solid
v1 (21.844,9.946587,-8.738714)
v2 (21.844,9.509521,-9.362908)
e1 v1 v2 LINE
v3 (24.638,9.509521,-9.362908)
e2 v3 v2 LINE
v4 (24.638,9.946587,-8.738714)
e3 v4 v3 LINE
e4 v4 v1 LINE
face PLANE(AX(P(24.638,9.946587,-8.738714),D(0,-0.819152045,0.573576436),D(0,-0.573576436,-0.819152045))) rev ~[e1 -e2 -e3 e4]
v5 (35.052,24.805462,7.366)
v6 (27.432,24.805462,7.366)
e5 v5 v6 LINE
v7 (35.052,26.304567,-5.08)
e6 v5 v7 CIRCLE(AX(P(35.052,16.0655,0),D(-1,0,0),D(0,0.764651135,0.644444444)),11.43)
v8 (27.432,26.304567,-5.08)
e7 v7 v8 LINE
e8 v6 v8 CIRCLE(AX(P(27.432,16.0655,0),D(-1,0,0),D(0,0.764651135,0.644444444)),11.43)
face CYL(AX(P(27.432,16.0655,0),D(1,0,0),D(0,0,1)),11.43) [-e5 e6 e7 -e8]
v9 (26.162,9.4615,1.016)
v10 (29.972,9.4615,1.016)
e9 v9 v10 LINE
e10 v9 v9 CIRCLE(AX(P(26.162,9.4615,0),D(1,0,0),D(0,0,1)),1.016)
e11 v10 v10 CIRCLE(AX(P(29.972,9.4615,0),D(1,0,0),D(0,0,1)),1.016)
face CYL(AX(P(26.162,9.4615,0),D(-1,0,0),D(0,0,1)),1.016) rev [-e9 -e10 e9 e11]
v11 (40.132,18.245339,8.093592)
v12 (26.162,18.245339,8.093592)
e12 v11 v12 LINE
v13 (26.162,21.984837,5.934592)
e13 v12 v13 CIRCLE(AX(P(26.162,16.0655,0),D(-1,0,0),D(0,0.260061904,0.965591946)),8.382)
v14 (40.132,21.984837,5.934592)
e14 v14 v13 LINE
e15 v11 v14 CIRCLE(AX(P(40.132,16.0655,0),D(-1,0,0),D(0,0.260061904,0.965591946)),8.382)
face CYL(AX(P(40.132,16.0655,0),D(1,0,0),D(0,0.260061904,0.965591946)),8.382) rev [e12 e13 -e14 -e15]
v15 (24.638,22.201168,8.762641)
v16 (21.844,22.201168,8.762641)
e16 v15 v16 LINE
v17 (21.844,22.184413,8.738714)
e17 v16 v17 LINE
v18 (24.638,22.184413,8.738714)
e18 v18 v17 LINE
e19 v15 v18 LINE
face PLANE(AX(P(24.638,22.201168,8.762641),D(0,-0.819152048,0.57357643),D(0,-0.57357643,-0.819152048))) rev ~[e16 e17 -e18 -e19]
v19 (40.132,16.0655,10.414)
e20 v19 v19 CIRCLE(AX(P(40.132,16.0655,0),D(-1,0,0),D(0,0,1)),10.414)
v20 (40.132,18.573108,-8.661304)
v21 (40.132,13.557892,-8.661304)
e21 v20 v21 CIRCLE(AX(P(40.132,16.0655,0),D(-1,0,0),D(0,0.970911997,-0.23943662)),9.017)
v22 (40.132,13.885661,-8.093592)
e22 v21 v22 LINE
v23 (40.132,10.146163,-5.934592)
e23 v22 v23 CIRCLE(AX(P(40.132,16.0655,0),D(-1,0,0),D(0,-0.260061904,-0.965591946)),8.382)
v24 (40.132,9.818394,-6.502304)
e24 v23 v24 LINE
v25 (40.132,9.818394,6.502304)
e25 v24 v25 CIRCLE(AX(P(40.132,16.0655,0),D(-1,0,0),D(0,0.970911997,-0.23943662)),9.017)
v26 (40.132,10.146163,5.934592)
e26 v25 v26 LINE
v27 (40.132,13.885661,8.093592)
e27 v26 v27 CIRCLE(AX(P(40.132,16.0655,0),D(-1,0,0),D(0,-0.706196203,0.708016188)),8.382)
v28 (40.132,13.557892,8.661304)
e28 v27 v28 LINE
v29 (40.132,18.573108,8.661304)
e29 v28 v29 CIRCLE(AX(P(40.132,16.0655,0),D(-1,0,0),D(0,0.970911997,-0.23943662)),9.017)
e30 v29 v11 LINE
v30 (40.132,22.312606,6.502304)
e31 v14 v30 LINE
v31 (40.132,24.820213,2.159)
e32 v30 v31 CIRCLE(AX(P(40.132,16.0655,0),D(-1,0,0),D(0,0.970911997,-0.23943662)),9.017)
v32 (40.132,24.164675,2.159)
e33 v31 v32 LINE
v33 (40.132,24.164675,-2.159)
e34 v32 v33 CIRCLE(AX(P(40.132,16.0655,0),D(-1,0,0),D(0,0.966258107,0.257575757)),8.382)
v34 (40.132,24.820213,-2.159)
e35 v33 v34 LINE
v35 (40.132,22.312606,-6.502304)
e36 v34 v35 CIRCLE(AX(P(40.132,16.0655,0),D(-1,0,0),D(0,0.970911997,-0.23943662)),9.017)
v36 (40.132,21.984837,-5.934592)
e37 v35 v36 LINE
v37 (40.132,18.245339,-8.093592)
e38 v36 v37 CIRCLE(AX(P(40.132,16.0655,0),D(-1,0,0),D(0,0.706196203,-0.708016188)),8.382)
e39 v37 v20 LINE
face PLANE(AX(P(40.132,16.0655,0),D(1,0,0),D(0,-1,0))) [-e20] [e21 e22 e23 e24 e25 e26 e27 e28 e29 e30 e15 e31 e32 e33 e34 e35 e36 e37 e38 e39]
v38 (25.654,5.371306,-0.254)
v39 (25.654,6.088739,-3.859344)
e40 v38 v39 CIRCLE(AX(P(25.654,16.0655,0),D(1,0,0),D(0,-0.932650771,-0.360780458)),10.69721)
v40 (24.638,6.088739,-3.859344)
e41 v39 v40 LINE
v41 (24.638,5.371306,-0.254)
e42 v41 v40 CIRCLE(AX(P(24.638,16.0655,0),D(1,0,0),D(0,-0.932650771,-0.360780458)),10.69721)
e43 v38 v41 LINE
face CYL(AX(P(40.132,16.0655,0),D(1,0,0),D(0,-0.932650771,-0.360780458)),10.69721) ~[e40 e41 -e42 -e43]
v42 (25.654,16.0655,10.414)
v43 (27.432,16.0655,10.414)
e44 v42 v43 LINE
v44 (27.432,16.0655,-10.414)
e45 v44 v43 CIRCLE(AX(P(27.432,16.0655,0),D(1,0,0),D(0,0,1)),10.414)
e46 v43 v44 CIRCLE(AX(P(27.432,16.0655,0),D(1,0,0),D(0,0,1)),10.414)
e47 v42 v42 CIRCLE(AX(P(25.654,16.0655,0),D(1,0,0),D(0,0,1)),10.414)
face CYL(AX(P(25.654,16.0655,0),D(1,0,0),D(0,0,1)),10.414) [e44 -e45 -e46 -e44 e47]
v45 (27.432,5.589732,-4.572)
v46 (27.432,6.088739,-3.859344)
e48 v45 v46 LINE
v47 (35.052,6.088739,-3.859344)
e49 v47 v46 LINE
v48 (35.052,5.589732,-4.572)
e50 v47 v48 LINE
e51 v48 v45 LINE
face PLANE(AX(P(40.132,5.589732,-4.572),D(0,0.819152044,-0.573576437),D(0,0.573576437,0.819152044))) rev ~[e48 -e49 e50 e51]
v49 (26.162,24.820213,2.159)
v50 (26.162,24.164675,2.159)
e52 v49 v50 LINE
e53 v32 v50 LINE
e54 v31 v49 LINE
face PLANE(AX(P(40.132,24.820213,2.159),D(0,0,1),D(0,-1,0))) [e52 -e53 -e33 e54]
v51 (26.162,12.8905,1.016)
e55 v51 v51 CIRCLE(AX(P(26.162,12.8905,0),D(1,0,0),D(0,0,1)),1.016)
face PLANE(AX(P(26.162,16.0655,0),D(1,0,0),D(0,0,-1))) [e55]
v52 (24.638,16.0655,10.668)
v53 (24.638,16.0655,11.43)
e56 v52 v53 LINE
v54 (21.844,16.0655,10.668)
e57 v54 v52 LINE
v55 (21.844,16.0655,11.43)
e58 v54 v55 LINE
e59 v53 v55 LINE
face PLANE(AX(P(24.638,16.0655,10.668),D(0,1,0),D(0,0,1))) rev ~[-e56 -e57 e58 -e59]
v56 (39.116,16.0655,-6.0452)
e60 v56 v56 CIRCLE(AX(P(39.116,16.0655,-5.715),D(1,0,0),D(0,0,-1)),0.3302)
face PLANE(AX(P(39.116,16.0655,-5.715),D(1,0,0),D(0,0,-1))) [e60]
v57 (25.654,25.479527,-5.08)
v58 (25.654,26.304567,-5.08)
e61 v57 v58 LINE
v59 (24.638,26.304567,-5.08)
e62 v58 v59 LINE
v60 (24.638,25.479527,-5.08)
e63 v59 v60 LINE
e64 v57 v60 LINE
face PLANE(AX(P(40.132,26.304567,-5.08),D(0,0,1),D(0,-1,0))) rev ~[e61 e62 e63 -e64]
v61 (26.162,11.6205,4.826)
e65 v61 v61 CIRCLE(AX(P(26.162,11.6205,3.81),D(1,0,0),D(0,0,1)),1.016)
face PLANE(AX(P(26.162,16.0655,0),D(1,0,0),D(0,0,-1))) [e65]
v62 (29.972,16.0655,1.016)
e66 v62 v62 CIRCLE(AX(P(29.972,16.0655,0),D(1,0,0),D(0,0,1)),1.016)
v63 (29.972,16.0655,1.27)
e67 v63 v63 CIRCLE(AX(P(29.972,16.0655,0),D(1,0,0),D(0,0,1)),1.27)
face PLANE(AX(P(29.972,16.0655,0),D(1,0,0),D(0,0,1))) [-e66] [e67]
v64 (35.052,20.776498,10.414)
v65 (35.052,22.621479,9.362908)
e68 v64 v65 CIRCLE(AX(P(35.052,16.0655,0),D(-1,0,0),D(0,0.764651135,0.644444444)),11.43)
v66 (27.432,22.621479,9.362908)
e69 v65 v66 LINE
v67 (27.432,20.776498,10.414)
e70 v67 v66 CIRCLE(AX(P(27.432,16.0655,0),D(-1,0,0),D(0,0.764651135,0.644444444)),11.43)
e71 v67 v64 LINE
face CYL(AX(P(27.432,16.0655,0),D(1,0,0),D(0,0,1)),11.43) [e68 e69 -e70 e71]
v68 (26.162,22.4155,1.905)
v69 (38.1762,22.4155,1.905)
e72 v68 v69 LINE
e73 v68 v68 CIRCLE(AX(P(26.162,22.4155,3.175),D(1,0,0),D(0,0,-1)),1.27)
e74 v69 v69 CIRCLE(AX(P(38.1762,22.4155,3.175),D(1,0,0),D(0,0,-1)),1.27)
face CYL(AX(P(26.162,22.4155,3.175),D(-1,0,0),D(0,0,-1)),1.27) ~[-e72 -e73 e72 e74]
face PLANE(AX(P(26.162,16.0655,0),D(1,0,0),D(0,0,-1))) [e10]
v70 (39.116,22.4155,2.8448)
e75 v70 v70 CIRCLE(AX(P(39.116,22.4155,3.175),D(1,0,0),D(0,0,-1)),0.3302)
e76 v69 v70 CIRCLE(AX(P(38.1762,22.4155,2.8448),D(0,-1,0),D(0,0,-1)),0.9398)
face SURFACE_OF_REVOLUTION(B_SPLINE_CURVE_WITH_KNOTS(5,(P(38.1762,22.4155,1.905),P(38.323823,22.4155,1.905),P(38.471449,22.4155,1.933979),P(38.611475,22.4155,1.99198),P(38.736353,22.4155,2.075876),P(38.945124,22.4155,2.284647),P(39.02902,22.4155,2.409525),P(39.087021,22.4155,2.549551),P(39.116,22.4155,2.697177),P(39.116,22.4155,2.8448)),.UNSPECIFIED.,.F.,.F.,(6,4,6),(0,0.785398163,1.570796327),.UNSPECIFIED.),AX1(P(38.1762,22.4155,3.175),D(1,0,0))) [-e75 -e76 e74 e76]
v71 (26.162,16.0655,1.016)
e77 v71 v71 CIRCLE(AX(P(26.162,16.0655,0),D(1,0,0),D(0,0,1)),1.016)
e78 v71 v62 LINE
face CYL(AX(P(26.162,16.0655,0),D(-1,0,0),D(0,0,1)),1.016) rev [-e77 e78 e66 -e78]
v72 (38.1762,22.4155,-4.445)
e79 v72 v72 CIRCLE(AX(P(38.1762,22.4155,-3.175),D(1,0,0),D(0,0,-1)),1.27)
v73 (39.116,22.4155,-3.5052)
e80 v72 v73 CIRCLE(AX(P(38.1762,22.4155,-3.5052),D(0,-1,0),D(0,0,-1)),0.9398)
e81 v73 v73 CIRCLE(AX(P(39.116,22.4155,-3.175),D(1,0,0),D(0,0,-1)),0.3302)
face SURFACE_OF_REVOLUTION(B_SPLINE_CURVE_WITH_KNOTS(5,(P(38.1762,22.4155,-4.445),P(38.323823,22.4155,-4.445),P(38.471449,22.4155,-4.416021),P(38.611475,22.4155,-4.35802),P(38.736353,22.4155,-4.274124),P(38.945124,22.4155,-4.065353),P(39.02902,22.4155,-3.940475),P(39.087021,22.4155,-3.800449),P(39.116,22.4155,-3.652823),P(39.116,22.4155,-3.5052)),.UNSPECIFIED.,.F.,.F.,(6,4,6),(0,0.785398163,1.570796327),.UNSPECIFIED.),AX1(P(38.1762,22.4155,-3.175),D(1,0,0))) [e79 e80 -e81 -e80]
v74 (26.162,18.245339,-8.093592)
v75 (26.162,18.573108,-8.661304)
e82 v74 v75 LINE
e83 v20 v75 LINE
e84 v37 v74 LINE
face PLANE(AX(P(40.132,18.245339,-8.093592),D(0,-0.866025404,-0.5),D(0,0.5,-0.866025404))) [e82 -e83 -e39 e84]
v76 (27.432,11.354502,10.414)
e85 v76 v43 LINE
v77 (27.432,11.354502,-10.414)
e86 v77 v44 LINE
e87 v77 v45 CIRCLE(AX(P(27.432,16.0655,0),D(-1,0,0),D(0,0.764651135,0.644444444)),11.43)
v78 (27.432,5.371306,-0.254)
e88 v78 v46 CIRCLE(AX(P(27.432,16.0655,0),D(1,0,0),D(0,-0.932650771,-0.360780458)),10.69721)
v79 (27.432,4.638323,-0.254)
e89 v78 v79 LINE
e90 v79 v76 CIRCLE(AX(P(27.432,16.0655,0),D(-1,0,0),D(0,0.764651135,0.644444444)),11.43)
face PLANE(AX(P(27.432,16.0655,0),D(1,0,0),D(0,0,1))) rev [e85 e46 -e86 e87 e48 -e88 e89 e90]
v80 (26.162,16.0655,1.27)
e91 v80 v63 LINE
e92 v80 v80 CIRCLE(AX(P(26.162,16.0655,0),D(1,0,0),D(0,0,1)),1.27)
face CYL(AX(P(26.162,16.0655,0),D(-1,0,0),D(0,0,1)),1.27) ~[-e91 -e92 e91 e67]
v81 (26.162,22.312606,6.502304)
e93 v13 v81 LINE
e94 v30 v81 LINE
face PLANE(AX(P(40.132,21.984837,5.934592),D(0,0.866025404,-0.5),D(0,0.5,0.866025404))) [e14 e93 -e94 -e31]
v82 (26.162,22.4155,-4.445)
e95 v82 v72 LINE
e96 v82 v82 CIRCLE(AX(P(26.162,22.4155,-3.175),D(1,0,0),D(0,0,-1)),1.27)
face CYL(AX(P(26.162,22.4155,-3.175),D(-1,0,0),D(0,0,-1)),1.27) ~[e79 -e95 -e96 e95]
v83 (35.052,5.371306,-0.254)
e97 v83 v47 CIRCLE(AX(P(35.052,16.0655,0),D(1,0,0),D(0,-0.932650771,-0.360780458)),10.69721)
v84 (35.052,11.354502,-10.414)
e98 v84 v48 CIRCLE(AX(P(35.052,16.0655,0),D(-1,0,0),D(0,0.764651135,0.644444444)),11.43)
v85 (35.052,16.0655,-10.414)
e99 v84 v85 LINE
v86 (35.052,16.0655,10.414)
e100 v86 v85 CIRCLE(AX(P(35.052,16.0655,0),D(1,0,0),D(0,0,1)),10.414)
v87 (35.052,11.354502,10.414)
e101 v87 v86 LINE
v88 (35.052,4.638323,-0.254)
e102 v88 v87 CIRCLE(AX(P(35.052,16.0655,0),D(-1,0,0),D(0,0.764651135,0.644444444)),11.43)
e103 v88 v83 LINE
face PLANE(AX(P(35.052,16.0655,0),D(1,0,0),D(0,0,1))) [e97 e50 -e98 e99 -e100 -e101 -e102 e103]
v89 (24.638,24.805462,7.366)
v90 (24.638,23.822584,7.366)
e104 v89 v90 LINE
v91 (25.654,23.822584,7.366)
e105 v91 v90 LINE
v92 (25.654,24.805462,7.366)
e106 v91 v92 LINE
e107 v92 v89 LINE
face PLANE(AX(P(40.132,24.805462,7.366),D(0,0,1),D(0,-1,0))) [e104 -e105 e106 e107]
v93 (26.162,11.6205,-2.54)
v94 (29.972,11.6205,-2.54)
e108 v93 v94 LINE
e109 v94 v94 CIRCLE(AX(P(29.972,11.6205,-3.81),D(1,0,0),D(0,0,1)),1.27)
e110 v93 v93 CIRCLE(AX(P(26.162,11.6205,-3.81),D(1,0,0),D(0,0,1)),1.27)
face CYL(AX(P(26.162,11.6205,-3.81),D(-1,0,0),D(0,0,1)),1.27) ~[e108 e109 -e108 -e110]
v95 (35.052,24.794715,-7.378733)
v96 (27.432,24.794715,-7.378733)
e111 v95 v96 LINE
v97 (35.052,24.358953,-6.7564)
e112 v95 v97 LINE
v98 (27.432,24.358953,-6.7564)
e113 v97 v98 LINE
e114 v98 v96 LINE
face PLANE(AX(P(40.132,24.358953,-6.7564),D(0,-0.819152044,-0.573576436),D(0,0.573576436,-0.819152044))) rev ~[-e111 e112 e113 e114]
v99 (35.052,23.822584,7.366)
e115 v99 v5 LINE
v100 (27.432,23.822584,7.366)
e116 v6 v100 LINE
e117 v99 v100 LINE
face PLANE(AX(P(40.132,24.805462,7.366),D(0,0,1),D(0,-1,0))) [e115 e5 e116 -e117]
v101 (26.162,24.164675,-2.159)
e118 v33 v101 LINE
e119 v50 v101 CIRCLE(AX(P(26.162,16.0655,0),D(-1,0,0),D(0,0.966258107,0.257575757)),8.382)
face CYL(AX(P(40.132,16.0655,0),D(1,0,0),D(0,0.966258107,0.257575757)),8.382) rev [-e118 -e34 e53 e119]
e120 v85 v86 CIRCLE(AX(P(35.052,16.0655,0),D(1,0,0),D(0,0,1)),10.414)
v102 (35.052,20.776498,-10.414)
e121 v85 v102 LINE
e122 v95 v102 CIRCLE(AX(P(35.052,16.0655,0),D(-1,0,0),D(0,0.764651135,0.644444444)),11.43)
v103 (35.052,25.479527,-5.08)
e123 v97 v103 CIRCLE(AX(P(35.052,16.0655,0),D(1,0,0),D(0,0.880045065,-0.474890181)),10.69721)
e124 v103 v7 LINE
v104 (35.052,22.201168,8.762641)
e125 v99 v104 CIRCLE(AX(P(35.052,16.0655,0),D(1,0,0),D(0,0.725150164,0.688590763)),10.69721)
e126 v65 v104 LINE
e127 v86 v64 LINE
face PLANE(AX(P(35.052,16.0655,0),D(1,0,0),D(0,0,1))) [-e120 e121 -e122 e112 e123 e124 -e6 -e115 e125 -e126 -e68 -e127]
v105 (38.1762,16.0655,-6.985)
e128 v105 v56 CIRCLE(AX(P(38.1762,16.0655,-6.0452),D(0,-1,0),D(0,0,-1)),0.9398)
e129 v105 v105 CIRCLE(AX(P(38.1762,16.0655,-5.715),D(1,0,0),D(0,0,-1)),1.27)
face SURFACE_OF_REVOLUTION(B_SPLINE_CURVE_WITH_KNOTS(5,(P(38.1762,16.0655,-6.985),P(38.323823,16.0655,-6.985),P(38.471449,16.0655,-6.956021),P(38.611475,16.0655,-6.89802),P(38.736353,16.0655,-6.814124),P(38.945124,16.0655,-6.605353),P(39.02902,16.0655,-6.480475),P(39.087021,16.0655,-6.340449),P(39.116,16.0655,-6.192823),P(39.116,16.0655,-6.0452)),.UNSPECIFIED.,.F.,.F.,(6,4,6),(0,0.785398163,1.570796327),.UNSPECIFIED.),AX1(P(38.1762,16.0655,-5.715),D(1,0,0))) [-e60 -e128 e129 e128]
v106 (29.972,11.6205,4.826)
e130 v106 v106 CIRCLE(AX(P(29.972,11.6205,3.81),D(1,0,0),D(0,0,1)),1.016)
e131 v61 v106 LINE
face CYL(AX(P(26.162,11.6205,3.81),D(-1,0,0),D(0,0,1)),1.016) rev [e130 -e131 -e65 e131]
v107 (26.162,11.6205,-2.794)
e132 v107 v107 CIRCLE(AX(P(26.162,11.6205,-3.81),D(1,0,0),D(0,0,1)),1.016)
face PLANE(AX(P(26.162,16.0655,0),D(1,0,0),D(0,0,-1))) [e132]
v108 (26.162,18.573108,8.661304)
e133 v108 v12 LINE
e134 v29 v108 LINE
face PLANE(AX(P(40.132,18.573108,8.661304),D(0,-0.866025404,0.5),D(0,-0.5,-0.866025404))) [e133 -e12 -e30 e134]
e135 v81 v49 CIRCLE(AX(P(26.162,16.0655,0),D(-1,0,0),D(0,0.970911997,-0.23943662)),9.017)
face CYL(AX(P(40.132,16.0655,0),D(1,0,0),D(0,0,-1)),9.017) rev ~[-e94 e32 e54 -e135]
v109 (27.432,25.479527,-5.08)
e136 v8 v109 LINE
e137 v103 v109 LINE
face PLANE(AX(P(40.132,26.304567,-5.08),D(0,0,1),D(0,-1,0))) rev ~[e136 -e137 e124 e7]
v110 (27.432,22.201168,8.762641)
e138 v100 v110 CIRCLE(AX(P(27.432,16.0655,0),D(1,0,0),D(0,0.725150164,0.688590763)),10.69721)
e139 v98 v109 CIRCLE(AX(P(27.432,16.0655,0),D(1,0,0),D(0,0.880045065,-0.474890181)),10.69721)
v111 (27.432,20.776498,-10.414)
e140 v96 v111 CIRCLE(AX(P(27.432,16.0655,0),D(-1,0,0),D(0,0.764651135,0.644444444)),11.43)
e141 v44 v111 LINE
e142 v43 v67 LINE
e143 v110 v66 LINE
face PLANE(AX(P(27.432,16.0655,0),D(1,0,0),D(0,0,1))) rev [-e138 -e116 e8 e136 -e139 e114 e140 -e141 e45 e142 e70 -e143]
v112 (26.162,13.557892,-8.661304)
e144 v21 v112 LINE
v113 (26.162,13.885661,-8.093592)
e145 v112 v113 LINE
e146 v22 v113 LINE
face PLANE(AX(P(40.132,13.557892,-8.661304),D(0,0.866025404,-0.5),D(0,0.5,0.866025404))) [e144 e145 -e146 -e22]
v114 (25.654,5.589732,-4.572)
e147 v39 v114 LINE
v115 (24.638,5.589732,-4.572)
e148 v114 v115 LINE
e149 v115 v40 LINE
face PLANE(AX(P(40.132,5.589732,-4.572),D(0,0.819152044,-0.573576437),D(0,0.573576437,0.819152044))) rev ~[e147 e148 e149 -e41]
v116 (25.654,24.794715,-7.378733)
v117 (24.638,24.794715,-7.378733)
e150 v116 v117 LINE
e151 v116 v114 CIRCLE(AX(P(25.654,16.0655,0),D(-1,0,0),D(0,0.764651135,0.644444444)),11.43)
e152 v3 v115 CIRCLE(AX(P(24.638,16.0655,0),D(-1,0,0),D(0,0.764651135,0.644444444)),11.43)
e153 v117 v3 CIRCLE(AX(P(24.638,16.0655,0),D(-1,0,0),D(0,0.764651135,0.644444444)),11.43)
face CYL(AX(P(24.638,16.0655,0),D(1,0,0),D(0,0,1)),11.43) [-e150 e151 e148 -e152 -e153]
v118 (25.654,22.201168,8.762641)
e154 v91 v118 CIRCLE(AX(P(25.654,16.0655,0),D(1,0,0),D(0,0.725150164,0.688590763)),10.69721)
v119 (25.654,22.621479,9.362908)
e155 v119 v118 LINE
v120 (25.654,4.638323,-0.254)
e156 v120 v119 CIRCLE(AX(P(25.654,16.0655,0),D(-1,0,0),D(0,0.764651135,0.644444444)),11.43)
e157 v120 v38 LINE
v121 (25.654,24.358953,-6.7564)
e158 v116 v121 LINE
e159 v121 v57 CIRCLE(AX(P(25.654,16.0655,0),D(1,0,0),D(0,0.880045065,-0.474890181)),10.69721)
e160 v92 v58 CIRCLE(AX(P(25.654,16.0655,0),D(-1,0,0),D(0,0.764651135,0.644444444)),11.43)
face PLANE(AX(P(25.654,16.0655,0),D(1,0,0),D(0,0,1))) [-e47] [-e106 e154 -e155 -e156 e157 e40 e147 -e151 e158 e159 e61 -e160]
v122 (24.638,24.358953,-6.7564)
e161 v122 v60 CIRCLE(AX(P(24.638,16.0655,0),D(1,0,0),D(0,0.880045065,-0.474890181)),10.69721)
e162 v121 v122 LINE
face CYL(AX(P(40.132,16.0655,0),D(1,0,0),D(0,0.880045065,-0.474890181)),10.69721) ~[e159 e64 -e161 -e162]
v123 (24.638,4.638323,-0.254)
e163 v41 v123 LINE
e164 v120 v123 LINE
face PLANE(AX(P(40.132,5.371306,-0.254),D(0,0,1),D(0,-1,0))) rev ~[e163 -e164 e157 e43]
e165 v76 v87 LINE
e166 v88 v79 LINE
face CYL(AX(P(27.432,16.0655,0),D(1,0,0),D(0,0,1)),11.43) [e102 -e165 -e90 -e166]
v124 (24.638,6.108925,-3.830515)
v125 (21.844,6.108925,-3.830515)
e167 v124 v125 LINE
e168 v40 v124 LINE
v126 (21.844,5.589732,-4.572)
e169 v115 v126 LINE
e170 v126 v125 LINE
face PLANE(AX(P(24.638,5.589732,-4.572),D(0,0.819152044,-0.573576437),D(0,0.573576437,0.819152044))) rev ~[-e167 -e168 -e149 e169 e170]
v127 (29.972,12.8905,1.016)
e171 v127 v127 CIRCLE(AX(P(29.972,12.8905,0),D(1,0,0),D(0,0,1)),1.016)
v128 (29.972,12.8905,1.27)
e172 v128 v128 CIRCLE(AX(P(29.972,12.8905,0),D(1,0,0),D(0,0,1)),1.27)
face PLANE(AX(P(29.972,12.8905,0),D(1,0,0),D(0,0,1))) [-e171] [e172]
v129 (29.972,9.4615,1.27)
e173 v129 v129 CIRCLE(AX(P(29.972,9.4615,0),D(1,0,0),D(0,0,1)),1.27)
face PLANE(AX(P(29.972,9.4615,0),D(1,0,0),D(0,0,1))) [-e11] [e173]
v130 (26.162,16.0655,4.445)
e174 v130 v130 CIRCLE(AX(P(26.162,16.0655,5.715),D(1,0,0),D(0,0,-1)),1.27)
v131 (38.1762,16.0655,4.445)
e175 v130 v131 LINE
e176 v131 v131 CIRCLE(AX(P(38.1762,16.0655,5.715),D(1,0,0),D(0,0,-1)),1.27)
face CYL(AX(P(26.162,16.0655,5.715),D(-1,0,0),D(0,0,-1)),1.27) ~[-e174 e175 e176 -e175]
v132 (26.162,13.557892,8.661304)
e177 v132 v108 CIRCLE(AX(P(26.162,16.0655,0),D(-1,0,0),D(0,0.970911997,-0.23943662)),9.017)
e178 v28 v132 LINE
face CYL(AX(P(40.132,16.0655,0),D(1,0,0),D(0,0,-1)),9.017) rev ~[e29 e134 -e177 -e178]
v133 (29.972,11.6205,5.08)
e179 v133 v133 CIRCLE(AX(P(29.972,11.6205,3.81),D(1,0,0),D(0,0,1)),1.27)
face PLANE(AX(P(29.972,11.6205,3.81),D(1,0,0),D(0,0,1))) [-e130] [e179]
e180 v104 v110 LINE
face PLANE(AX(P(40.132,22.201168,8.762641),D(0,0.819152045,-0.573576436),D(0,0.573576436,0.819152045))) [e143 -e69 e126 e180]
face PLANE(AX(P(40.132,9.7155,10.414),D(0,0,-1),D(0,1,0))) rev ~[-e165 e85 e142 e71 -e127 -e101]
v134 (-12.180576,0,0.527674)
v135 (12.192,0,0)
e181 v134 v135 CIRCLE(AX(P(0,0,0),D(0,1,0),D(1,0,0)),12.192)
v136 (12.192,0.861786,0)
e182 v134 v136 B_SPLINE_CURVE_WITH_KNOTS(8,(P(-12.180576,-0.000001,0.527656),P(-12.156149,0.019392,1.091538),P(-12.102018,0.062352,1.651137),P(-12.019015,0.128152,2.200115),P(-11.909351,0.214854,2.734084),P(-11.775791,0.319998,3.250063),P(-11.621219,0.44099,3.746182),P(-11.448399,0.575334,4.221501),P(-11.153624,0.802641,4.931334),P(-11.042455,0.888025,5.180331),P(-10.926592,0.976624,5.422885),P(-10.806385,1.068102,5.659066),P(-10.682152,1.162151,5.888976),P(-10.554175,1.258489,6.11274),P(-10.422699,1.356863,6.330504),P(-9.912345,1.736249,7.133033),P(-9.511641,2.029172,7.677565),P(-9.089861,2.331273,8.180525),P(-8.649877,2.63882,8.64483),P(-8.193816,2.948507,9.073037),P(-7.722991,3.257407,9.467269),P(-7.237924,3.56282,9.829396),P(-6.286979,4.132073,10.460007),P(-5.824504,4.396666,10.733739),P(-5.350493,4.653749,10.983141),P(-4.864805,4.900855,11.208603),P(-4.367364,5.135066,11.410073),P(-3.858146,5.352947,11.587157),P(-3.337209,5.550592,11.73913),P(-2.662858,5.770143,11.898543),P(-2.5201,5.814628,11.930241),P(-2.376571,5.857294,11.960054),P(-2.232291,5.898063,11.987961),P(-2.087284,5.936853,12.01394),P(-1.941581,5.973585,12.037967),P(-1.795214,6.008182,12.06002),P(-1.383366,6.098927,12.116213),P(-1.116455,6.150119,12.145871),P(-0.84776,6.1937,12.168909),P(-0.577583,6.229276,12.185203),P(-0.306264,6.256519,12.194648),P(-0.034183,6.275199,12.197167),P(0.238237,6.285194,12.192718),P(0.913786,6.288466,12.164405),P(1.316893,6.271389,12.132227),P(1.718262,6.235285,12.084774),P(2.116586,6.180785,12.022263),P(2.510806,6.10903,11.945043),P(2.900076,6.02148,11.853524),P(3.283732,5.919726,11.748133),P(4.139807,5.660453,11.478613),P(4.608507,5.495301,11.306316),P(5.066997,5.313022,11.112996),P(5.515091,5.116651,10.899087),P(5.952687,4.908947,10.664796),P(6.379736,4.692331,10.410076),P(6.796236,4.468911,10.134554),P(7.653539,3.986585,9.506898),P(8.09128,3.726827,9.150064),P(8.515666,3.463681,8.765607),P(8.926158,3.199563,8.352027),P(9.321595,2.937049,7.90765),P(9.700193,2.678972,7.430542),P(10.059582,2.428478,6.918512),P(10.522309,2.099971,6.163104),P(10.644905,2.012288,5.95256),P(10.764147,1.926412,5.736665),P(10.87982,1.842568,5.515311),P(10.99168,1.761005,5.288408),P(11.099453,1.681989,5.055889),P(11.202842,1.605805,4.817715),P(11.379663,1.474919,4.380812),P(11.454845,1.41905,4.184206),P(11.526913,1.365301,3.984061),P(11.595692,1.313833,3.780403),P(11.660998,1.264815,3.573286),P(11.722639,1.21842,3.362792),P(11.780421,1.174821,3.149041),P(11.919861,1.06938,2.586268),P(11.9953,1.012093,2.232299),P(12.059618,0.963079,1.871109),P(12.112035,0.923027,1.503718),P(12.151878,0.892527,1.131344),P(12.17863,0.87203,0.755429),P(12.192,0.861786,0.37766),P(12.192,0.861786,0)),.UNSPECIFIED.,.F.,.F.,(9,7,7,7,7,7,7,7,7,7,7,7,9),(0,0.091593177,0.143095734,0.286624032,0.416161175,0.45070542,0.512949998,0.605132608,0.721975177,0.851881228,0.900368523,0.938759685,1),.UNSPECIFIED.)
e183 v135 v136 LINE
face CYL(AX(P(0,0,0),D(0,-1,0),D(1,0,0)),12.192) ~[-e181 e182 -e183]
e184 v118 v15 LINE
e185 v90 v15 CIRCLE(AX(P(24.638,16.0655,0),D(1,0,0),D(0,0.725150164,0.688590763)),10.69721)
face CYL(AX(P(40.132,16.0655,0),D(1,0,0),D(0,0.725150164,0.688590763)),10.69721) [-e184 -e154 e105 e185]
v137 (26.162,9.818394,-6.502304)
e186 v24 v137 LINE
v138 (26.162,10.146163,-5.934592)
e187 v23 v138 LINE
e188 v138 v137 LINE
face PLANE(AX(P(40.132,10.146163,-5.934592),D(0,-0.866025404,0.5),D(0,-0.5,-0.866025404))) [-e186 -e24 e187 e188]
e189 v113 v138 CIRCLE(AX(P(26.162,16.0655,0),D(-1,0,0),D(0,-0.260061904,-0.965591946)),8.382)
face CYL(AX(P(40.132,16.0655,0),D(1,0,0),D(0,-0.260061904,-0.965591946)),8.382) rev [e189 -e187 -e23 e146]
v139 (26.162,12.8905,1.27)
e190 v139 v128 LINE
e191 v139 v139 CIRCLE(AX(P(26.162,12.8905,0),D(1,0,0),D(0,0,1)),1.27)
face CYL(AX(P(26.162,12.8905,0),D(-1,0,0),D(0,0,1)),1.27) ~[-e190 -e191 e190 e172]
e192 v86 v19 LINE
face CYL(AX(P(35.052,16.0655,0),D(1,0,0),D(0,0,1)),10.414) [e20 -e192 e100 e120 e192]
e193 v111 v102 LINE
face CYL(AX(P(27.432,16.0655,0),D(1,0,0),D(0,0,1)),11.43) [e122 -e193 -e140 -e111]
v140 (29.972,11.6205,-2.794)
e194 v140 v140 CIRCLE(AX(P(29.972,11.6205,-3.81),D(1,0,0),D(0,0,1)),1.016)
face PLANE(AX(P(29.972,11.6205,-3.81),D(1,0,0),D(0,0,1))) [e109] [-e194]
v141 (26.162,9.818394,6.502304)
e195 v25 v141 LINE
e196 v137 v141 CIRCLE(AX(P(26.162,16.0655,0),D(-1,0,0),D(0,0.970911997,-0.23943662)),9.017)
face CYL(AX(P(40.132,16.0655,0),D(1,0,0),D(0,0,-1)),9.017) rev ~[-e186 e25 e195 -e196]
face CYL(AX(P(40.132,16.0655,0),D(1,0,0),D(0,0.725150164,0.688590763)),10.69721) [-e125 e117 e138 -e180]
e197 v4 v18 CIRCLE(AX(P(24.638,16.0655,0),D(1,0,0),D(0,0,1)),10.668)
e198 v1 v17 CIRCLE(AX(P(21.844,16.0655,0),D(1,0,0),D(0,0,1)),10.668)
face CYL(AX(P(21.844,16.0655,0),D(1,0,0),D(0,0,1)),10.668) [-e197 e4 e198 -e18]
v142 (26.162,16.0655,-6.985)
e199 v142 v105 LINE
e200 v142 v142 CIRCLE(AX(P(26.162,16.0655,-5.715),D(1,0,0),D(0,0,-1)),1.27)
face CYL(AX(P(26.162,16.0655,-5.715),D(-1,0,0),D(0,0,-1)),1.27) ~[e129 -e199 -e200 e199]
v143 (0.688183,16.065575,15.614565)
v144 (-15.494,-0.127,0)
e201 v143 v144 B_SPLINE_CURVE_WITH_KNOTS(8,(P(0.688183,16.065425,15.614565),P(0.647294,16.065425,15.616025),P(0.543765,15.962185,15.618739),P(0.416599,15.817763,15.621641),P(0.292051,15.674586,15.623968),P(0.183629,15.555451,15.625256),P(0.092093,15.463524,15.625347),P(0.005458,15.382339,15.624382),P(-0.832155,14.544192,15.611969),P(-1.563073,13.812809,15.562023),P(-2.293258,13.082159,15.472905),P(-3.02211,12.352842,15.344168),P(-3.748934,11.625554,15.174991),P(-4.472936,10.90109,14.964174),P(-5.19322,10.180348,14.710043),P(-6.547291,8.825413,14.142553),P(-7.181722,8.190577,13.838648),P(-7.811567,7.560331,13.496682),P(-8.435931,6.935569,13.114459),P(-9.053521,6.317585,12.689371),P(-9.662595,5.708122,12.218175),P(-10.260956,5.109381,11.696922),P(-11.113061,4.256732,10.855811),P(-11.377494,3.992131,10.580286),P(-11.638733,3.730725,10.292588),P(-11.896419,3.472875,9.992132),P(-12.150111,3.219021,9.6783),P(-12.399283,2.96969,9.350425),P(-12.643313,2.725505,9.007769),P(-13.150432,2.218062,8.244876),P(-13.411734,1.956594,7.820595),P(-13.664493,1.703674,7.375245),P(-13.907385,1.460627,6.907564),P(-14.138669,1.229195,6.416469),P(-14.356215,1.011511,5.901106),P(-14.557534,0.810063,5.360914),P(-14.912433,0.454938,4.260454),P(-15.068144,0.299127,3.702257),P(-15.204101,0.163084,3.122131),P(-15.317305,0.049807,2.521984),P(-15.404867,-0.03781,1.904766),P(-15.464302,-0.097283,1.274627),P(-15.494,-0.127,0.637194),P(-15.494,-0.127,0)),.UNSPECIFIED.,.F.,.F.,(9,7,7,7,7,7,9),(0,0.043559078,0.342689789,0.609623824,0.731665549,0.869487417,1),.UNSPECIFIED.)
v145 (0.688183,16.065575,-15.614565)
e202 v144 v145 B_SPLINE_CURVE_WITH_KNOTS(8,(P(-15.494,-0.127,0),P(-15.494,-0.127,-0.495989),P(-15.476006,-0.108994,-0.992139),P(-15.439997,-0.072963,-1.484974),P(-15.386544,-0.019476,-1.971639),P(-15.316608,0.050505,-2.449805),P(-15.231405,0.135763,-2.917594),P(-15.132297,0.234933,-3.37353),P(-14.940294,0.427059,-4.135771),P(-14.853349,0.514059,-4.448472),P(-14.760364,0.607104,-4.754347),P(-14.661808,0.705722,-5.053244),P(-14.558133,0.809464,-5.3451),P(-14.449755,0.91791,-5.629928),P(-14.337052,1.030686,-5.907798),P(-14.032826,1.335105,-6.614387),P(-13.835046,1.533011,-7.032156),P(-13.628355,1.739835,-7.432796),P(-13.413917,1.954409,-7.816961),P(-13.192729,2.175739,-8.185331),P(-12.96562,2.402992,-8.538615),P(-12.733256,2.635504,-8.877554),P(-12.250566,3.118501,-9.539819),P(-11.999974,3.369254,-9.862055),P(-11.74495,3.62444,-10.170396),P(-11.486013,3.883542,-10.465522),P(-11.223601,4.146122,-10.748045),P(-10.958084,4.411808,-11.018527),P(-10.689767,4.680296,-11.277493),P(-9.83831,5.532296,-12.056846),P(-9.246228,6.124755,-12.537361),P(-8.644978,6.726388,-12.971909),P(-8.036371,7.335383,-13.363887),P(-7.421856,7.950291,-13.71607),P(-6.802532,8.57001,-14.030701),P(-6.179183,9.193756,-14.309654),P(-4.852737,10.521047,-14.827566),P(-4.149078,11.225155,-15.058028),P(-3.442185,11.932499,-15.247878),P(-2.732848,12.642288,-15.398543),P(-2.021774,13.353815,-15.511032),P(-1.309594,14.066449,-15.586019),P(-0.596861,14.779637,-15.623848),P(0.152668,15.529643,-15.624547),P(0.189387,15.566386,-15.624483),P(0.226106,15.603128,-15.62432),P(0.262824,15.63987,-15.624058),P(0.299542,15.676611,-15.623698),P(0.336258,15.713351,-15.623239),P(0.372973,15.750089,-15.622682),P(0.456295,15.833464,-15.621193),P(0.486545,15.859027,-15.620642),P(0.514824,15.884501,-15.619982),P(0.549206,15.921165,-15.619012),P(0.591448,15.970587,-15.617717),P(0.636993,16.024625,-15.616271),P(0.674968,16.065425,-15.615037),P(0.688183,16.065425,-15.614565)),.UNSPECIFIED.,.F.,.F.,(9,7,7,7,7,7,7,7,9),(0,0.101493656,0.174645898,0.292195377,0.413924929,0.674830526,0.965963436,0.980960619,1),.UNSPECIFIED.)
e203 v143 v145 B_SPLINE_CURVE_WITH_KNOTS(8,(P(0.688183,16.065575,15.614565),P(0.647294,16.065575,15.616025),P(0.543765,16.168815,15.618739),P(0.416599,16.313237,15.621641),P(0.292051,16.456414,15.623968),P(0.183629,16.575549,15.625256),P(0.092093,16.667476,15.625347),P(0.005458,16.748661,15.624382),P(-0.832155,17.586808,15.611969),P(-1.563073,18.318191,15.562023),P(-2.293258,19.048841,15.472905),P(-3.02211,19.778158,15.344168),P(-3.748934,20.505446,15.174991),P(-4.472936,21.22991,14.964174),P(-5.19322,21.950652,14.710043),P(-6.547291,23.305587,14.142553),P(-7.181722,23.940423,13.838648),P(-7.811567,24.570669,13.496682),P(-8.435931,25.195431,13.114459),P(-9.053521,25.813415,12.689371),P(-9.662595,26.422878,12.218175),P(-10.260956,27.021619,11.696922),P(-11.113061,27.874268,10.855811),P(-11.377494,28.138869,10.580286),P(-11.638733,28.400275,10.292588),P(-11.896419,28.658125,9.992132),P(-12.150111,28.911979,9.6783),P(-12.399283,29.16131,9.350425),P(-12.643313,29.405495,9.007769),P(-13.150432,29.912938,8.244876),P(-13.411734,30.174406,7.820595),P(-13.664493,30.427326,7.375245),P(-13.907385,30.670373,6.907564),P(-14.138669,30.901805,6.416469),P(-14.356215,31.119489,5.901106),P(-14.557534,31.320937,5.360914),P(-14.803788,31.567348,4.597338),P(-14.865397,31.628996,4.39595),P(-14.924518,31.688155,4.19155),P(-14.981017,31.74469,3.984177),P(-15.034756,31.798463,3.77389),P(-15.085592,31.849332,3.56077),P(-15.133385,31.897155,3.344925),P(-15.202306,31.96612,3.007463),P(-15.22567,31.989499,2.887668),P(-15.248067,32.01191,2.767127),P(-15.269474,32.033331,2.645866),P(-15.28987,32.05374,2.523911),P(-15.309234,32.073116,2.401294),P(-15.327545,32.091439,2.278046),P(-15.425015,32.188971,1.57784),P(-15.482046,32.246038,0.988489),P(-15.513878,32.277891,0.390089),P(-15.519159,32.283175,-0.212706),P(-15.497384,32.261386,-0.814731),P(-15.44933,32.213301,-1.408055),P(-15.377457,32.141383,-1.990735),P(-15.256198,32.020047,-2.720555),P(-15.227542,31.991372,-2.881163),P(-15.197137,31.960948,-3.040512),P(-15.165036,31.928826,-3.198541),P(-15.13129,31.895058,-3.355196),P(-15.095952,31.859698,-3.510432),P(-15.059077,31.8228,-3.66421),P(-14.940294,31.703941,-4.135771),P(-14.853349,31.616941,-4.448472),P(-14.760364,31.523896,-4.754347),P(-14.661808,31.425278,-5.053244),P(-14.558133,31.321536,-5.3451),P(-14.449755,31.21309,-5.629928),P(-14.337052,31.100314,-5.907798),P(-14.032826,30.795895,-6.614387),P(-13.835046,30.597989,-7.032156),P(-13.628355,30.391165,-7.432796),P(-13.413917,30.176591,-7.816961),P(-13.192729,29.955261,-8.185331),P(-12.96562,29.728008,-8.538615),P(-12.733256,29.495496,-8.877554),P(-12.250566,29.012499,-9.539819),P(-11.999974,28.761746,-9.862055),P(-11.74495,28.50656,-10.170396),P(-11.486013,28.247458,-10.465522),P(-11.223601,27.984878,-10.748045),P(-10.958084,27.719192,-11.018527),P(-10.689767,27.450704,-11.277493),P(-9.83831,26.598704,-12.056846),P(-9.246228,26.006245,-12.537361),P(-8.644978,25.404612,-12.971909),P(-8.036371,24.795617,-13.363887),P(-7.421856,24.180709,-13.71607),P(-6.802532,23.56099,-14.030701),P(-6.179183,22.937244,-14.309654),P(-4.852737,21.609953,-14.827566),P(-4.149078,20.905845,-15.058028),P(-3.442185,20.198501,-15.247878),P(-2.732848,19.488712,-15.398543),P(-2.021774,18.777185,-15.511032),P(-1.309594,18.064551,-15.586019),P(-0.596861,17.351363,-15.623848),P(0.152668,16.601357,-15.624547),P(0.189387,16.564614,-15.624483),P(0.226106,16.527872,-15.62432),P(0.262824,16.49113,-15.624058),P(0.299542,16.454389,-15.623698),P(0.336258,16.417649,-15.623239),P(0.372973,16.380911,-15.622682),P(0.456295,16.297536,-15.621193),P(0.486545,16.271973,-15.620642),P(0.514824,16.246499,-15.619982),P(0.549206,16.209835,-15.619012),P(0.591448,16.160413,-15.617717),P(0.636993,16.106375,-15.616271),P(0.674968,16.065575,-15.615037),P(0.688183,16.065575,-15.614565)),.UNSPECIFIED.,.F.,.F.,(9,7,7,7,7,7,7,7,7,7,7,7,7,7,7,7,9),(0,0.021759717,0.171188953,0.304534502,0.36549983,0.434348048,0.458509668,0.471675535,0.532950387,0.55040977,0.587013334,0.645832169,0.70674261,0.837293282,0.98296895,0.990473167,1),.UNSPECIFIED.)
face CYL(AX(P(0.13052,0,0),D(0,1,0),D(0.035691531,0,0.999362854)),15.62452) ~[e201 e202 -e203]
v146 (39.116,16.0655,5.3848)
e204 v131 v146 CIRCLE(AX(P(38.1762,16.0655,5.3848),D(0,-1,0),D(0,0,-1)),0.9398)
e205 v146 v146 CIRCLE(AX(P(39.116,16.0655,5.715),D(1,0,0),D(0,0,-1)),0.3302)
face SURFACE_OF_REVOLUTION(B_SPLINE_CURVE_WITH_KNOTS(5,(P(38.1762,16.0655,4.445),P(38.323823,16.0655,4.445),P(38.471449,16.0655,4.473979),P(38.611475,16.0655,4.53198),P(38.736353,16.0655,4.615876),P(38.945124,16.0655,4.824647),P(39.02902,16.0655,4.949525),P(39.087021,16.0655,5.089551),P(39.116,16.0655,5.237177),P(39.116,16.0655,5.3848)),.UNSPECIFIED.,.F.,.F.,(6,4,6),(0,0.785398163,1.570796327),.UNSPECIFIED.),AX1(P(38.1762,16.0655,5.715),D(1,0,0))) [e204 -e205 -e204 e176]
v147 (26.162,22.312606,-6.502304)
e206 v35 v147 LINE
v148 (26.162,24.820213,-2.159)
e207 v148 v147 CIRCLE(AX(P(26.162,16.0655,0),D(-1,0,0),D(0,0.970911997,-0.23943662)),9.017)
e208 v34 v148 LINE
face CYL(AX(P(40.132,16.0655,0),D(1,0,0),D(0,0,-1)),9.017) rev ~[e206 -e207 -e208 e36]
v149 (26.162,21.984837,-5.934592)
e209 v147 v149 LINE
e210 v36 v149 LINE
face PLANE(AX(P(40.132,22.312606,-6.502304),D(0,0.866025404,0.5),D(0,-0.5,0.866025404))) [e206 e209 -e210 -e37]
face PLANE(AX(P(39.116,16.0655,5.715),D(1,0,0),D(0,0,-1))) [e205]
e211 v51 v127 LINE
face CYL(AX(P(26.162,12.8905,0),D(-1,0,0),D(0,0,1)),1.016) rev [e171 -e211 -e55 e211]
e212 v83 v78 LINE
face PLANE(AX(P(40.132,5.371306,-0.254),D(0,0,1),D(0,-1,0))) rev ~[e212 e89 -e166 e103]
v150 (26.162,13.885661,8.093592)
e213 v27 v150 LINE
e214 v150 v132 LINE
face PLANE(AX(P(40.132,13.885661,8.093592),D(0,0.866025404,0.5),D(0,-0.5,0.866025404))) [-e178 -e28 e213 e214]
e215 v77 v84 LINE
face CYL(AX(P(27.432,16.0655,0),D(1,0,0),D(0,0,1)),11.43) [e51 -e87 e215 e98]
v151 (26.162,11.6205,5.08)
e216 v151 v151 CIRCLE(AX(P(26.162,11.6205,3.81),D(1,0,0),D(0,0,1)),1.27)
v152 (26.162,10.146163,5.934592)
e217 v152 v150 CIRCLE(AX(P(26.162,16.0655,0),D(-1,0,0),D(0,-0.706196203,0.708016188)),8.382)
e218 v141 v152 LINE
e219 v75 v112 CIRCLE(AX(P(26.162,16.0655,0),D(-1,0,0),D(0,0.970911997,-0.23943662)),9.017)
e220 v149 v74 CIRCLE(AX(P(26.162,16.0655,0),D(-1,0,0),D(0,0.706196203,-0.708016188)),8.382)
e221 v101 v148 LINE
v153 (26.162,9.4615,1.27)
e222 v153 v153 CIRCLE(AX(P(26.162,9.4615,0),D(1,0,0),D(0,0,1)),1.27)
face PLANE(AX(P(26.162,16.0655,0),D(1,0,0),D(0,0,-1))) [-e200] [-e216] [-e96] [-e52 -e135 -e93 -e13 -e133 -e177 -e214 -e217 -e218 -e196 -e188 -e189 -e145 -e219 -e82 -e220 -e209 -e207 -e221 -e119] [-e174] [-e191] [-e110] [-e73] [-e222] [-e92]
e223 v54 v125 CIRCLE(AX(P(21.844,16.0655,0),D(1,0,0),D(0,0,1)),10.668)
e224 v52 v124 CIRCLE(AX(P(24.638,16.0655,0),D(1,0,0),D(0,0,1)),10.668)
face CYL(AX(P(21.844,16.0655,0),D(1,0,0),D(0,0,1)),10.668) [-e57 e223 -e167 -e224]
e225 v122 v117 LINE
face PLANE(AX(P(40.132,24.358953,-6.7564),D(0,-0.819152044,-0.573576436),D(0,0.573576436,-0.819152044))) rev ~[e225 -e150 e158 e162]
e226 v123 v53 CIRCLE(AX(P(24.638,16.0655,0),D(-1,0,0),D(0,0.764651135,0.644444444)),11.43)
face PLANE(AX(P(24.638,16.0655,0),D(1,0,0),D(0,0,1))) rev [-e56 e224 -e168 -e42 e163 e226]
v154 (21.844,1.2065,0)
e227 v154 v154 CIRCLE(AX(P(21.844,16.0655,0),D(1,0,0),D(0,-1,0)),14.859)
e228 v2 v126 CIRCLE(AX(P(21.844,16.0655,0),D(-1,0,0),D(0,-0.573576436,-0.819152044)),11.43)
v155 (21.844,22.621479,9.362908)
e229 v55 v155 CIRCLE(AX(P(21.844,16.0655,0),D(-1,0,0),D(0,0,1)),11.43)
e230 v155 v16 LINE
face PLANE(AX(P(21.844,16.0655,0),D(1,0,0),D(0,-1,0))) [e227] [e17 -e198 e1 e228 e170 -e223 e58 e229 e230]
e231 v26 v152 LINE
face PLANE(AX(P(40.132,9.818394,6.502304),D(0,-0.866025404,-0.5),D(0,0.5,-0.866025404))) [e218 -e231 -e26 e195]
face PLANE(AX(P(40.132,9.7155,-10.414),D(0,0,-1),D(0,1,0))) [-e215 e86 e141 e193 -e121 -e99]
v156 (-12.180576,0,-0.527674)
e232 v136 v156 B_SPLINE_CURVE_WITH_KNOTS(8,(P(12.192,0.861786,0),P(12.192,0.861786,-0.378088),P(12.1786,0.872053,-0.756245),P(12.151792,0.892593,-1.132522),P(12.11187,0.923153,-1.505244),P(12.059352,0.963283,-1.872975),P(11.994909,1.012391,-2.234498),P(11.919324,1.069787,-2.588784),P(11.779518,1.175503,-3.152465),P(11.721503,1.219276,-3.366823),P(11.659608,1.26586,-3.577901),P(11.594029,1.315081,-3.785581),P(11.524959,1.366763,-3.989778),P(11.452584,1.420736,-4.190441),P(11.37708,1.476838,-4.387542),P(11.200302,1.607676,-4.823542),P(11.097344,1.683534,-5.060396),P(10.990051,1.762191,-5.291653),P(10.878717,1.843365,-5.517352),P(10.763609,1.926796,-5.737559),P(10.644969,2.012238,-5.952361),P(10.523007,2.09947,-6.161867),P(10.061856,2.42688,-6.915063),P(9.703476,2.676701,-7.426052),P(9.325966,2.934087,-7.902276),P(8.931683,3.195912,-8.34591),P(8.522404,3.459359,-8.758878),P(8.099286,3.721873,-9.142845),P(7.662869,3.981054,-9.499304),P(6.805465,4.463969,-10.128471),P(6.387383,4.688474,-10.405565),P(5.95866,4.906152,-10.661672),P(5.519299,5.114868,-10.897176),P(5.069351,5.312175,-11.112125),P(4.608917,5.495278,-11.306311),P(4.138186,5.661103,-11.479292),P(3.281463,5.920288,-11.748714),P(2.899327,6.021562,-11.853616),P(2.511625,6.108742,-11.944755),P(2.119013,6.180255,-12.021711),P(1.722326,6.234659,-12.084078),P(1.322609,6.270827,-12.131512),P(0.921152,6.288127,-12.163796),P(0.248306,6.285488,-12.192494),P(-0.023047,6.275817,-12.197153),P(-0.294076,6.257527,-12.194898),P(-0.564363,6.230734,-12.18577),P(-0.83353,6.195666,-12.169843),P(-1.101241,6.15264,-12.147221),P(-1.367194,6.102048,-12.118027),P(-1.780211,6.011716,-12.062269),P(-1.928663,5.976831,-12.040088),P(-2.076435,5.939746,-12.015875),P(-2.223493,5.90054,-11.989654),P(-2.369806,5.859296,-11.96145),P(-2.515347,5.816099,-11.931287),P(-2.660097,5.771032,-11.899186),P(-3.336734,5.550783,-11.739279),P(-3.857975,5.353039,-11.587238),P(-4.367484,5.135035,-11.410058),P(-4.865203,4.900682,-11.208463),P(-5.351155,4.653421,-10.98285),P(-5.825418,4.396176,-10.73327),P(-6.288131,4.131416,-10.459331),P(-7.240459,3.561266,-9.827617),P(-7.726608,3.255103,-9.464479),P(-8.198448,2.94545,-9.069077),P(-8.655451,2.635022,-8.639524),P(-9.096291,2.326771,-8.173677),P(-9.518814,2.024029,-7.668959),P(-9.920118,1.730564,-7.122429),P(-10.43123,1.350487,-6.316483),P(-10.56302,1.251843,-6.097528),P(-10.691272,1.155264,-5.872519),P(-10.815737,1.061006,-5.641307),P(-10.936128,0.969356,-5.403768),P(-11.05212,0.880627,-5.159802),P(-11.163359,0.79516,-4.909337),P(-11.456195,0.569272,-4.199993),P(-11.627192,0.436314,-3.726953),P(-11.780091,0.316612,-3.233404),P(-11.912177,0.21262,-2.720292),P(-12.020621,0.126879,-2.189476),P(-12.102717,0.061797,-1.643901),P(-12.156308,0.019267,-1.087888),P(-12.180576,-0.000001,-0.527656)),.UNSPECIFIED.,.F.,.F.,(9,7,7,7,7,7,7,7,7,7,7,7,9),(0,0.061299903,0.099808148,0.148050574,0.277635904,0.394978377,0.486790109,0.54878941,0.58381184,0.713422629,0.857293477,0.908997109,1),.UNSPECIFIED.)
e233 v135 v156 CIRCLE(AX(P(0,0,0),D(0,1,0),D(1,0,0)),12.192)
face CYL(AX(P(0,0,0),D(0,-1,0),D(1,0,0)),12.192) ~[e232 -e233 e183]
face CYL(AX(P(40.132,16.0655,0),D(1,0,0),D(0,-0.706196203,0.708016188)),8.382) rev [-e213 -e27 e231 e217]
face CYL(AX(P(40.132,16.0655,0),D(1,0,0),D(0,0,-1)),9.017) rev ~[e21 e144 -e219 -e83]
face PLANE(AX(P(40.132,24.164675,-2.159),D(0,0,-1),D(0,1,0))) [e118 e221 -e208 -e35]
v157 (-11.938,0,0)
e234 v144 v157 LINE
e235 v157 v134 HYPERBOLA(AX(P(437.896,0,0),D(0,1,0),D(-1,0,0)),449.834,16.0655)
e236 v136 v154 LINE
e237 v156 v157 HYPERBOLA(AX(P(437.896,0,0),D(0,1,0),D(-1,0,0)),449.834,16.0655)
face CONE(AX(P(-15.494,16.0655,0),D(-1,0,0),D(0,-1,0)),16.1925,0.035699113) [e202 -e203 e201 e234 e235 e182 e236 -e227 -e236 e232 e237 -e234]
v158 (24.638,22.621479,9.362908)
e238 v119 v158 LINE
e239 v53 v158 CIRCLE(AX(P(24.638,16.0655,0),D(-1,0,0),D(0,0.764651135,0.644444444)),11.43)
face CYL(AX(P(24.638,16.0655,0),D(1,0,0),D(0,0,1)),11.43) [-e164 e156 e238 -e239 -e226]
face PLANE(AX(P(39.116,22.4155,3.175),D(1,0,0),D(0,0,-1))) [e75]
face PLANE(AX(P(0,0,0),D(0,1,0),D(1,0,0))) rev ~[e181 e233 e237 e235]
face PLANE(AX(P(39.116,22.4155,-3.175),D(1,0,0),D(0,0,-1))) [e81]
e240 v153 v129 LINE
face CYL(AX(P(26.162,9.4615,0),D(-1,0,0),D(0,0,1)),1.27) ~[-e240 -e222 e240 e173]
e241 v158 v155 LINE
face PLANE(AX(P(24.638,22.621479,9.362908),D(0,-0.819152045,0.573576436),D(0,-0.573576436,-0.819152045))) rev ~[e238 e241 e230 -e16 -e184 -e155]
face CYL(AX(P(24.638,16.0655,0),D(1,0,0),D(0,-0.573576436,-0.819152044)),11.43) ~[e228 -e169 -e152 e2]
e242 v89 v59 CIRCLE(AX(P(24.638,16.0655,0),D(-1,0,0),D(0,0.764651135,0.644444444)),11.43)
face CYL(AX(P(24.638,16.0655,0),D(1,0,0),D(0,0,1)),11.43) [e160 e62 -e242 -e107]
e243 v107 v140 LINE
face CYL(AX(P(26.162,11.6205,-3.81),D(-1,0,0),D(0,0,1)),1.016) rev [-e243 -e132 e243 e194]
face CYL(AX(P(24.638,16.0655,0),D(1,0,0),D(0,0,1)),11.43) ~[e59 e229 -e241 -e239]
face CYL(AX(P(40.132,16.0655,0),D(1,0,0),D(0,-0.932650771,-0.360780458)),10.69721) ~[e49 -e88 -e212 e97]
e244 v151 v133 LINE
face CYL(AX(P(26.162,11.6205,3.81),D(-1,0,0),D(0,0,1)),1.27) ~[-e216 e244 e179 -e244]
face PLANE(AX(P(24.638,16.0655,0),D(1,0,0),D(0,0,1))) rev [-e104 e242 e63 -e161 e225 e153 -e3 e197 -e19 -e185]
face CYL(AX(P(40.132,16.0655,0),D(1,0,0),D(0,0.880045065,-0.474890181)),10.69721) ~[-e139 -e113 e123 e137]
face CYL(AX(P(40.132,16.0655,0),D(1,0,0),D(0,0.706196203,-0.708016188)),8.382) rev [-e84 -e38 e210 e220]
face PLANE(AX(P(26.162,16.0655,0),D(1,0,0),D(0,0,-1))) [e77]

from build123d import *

# Parameters (mm, degrees)
EXTRUDE3_DEPTH    = 45.72
SKETCH15_R        = 12.192
EXTRUDE12_DEPTH   = 6.35
EXTRUDE4_REACH    = 68.174
SKETCH7_R         = 9.017
EXTRUDE5_DEPTH    = 13.97
EXTRUDE6_START    = 2.794
EXTRUDE6_DEPTH    = 2.794
SKETCH9_W         = 5.08
SKETCH9_H         = 12.7
EXTRUDE7_DEPTH    = 12.7
EXTRUDE8_DEPTH    = 13.97
CIRPATTERN1_COUNT = 6
SKETCH11_R        = 1.27
EXTRUDE9_DEPTH    = 12.954
SKETCH12_R        = 1.27
SKETCH12_R_2      = 1.016
EXTRUDE10_DEPTH   = 3.81
FILLET1_R         = 0.9398


with BuildPart() as part:
    # Sketch3 → Revolve1 (revolve)
    with BuildSketch(Plane.XY, mode=Mode.PRIVATE) as revolve1_sk:
        Polygon((-15.494, 16.0655), (-15.494, 32.258), (21.844, 30.9245), (21.844, 28.7655), (40.132, 28.7655), (40.132, 16.0655), align=None)
    revolve(revolve1_sk.sketch.rotate(Axis((-15.494, 16.0655, 0), (1, 0, 0)), 180), axis=Axis((-15.494, 16.0655, 0), (1, 0, 0)))

    # Sketch4 → Extrude3 (cut, symmetric)
    with BuildSketch(Plane(origin=(0, 0, 0), x_dir=(1, 0, 0), z_dir=(0, 1, 0))):
        with BuildLine():
            Line((0.688183019, 15.614564892), (0.688183019, 19.05))
            Line((0.688183019, 19.05), (-24.711816981, 19.05))
            Line((-24.711816981, 19.05), (-24.711816981, -19.05))
            Line((-24.711816981, -19.05), (0.688183019, -19.05))
            Line((0.688183019, -19.05), (0.688183019, -15.614564892))
            ThreePointArc((0.688183019, -15.614564892), (-15.494, 0), (0.688183019, 15.614564892))
        make_face()
    extrude(amount=EXTRUDE3_DEPTH, both=True, mode=Mode.SUBTRACT)

    # Sketch5 → Cut-Revolve1 (revolve, cut)
    with BuildSketch(Plane.XY, mode=Mode.PRIVATE) as cut_revolve1_sk:
        Polygon((21.844, 26.7335), (24.638, 26.7335), (24.638, 27.4955), (25.654, 27.4955), (25.654, 26.4795), (27.432, 26.4795), (27.432, 27.4955), (35.052, 27.4955), (35.052, 26.4795), (40.132, 26.4795), (40.132, 28.7655), (21.844, 28.7655), align=None)
    revolve(cut_revolve1_sk.sketch.rotate(Axis((0.688183019, 16.0655, 0), (1, 0, 0)), 90), axis=Axis((0.688183019, 16.0655, 0), (1, 0, 0)), mode=Mode.SUBTRACT)

    # Sketch15 → Extrude12 (add)
    with BuildSketch(Plane(origin=(0, 0, 0), x_dir=(1, 0, 0), z_dir=(0, 1, 0))):
        Circle(SKETCH15_R)
    extrude(amount=EXTRUDE12_DEPTH)

    # Sketch6 → Extrude4 (cut, up to next)
    with BuildSketch(Plane(origin=(40.132, 0, 0), x_dir=(0, 0, -1), z_dir=(1, 0, 0)), mode=Mode.PRIVATE) as extrude4_sk1:
        with BuildLine():
            Line((-7.366, 24.805462471), (-7.366, 23.822583588))
            ThreePointArc((-7.366, 23.822583588), (-8.104968608, 23.046888519), (-8.76264144, 22.201167591))
            Line((-8.76264144, 22.201167591), (-9.362907866, 22.621478667))
            ThreePointArc((-9.362907866, 22.621478667), (-8.435433357, 23.778370029), (-7.366, 24.805462471))
        make_face()
    extrude4_tool1 = extrude(extrude4_sk1.sketch, amount=-EXTRUDE4_REACH, mode=Mode.PRIVATE) & part.part
    # Sketch6 → Extrude4 (cut, up to next)
    with BuildSketch(Plane(origin=(40.132, 0, 0), x_dir=(0, 0, -1), z_dir=(1, 0, 0)), mode=Mode.PRIVATE) as extrude4_sk2:
        with BuildLine():
            Line((6.7564, 24.358952889), (7.378733083, 24.794715205))
            ThreePointArc((7.378733083, 24.794715205), (6.274943894, 25.619032285), (5.08, 26.30456734))
            Line((5.08, 26.30456734), (5.08, 25.479526863))
            ThreePointArc((5.08, 25.479526863), (5.944662543, 24.958828344), (6.7564, 24.358952889))
        make_face()
    extrude4_tool2 = extrude(extrude4_sk2.sketch, amount=-EXTRUDE4_REACH, mode=Mode.PRIVATE) & part.part
    # Sketch6 → Extrude4 (cut, up to next)
    with BuildSketch(Plane(origin=(40.132, 0, 0), x_dir=(0, 0, -1), z_dir=(1, 0, 0)), mode=Mode.PRIVATE) as extrude4_sk3:
        with BuildLine():
            Line((0.254, 5.371305978), (0.254, 4.638322571))
            ThreePointArc((0.254, 4.638322571), (2.459443831, 4.903240549), (4.572, 5.589731961))
            Line((4.572, 5.589731961), (3.859344319, 6.088738842))
            ThreePointArc((3.859344319, 6.088738842), (2.087720731, 5.573992771), (0.254, 5.371305978))
        make_face()
    extrude4_tool3 = extrude(extrude4_sk3.sketch, amount=-EXTRUDE4_REACH, mode=Mode.PRIVATE) & part.part
    add(extrude4_tool1.solids().sort_by_distance((40.132, 23.417127, 8.259947))[0], mode=Mode.SUBTRACT)
    add(extrude4_tool1.solids().sort_by_distance((40.132, 23.417127, 8.259947))[1], mode=Mode.SUBTRACT)
    add(extrude4_tool2.solids().sort_by_distance((40.132, 25.287842, -6.106057))[0], mode=Mode.SUBTRACT)
    add(extrude4_tool2.solids().sort_by_distance((40.132, 25.287842, -6.106057))[1], mode=Mode.SUBTRACT)
    add(extrude4_tool3.solids().sort_by_distance((40.132, 5.289374, -2.266983))[0], mode=Mode.SUBTRACT)
    add(extrude4_tool3.solids().sort_by_distance((40.132, 5.289374, -2.266983))[1], mode=Mode.SUBTRACT)

    # Sketch7 → Extrude5 (cut)
    with BuildSketch(Plane(origin=(40.132, 0, 0), x_dir=(0, 0, -1), z_dir=(1, 0, 0))):
        with Locations((0, 16.0655)):
            Circle(SKETCH7_R)
    extrude(amount=-EXTRUDE5_DEPTH, mode=Mode.SUBTRACT)

    # Sketch8 → Extrude6 (add)
    with BuildSketch(Plane(origin=(21.844, 0, 0), x_dir=(0, 0, -1), z_dir=(1, 0, 0)).offset(EXTRUDE6_START)):
        with BuildLine():
            Line((-9.362907866, 22.621478667), (-8.76264144, 22.201167591))
            Line((-8.76264144, 22.201167591), (-8.738714008, 22.184413423))
            ThreePointArc((-8.738714008, 22.184413423), (-10.174252431, 19.273429469), (-10.668, 16.0655))
            Line((-10.668, 16.0655), (-11.43, 16.0655))
            ThreePointArc((-11.43, 16.0655), (-10.900984747, 19.502567288), (-9.362907866, 22.621478667))
        make_face()
        with BuildLine():
            Line((4.572, 5.589731961), (3.830515001, 6.108925347))
            ThreePointArc((3.830515001, 6.108925347), (6.571018978, 7.661457306), (8.738714008, 9.946586577))
            Line((8.738714008, 9.946586577), (9.362907866, 9.509521333))
            ThreePointArc((9.362907866, 9.509521333), (7.237858902, 7.219127946), (4.572, 5.589731961))
        make_face()
    extrude(amount=-EXTRUDE6_DEPTH)

    # Sketch9 → Extrude7 (cut)
    with BuildSketch(Plane(origin=(40.132, 0, 0), x_dir=(0, 0, -1), z_dir=(1, 0, 0))):
        with Locations((-12.954, 16.0655)):
            Rectangle(SKETCH9_W, SKETCH9_H)
        with Locations((12.954, 16.0655)):
            Rectangle(SKETCH9_W, SKETCH9_H)
    extrude(amount=-EXTRUDE7_DEPTH, mode=Mode.SUBTRACT)

    # Sketch10 → Extrude8 (add)
    with BuildSketch(Plane(origin=(40.132, 0, 0), x_dir=(0, 0, -1), z_dir=(1, 0, 0))):
        with BuildLine():
            Line((-2.159, 24.820213473), (-2.159, 24.164675452))
            ThreePointArc((-2.159, 24.164675452), (0, 24.4475), (2.159, 24.164675452))
            Line((2.159, 24.164675452), (2.159, 24.820213473))
            ThreePointArc((2.159, 24.820213473), (0, 25.0825), (-2.159, 24.820213473))
        make_face()
    extrude8 = extrude(amount=-EXTRUDE8_DEPTH)

    # CirPattern1: Extrude8 ×6 about axis, 1 skipped
    cirpattern1_axis = Axis((0, 16.0655, 0), (-1, 0, 0))
    add([extrude8.rotate(cirpattern1_axis, i * 360 / CIRPATTERN1_COUNT) for i in range(1, CIRPATTERN1_COUNT) if i not in (3,)])

    # Sketch11 → Extrude9 (add)
    with BuildSketch(Plane(origin=(26.162, 0, 0), x_dir=(0, 0, -1), z_dir=(1, 0, 0))):
        with Locations((-3.175, 22.4155)):
            Circle(SKETCH11_R)
        with Locations((3.175, 22.4155)):
            Circle(SKETCH11_R)
        with Locations((-5.715, 16.0655)):
            Circle(SKETCH11_R)
        with Locations((5.715, 16.0655)):
            Circle(SKETCH11_R)
    extrude(amount=EXTRUDE9_DEPTH)

    # Sketch12 → Extrude10 (add)
    # profile 1 of 5: a face of its own
    with BuildSketch(Plane(origin=(26.162, 0, 0), x_dir=(0, 0, -1), z_dir=(1, 0, 0))):
        with Locations(Location((0, 16.0655, 0), (0, 0, 180))):
            Circle(SKETCH12_R)
        with Locations(Location((0, 16.0655, 0), (0, 0, 180))):
            Circle(SKETCH12_R_2, mode=Mode.SUBTRACT)
    # profile 2 of 5: a face of its own
    with BuildSketch(Plane(origin=(26.162, 0, 0), x_dir=(0, 0, -1), z_dir=(1, 0, 0))):
        with Locations(Location((0, 12.8905, 0), (0, 0, 180))):
            Circle(SKETCH12_R)
        with Locations(Location((0, 12.8905, 0), (0, 0, 180))):
            Circle(SKETCH12_R_2, mode=Mode.SUBTRACT)
    # profile 3 of 5: a face of its own
    with BuildSketch(Plane(origin=(26.162, 0, 0), x_dir=(0, 0, -1), z_dir=(1, 0, 0))):
        with Locations(Location((0, 9.4615, 0), (0, 0, 180))):
            Circle(SKETCH12_R)
        with Locations(Location((0, 9.4615, 0), (0, 0, 180))):
            Circle(SKETCH12_R_2, mode=Mode.SUBTRACT)
    # profile 4 of 5: a face of its own
    with BuildSketch(Plane(origin=(26.162, 0, 0), x_dir=(0, 0, -1), z_dir=(1, 0, 0))):
        with Locations(Location((3.81, 11.6205, 0), (0, 0, 180))):
            Circle(SKETCH12_R)
        with Locations(Location((3.81, 11.6205, 0), (0, 0, 180))):
            Circle(SKETCH12_R_2, mode=Mode.SUBTRACT)
    # profile 5 of 5: a face of its own
    with BuildSketch(Plane(origin=(26.162, 0, 0), x_dir=(0, 0, -1), z_dir=(1, 0, 0))):
        with Locations(Location((-3.81, 11.6205, 0), (0, 0, 180))):
            Circle(SKETCH12_R)
        with Locations(Location((-3.81, 11.6205, 0), (0, 0, 180))):
            Circle(SKETCH12_R_2, mode=Mode.SUBTRACT)
    extrude(amount=EXTRUDE10_DEPTH)

    # Fillet1
    fillet1_edges = [part.edges().sort_by_distance(p)[0] for p in [
        (39.116, 22.4155, 4.445),
        (39.116, 22.4155, -1.905),
        (39.116, 16.0655, 6.985),
        (39.116, 16.0655, -4.445),
    ]]
    fillet(fillet1_edges, radius=FILLET1_R)


solid = part.part
